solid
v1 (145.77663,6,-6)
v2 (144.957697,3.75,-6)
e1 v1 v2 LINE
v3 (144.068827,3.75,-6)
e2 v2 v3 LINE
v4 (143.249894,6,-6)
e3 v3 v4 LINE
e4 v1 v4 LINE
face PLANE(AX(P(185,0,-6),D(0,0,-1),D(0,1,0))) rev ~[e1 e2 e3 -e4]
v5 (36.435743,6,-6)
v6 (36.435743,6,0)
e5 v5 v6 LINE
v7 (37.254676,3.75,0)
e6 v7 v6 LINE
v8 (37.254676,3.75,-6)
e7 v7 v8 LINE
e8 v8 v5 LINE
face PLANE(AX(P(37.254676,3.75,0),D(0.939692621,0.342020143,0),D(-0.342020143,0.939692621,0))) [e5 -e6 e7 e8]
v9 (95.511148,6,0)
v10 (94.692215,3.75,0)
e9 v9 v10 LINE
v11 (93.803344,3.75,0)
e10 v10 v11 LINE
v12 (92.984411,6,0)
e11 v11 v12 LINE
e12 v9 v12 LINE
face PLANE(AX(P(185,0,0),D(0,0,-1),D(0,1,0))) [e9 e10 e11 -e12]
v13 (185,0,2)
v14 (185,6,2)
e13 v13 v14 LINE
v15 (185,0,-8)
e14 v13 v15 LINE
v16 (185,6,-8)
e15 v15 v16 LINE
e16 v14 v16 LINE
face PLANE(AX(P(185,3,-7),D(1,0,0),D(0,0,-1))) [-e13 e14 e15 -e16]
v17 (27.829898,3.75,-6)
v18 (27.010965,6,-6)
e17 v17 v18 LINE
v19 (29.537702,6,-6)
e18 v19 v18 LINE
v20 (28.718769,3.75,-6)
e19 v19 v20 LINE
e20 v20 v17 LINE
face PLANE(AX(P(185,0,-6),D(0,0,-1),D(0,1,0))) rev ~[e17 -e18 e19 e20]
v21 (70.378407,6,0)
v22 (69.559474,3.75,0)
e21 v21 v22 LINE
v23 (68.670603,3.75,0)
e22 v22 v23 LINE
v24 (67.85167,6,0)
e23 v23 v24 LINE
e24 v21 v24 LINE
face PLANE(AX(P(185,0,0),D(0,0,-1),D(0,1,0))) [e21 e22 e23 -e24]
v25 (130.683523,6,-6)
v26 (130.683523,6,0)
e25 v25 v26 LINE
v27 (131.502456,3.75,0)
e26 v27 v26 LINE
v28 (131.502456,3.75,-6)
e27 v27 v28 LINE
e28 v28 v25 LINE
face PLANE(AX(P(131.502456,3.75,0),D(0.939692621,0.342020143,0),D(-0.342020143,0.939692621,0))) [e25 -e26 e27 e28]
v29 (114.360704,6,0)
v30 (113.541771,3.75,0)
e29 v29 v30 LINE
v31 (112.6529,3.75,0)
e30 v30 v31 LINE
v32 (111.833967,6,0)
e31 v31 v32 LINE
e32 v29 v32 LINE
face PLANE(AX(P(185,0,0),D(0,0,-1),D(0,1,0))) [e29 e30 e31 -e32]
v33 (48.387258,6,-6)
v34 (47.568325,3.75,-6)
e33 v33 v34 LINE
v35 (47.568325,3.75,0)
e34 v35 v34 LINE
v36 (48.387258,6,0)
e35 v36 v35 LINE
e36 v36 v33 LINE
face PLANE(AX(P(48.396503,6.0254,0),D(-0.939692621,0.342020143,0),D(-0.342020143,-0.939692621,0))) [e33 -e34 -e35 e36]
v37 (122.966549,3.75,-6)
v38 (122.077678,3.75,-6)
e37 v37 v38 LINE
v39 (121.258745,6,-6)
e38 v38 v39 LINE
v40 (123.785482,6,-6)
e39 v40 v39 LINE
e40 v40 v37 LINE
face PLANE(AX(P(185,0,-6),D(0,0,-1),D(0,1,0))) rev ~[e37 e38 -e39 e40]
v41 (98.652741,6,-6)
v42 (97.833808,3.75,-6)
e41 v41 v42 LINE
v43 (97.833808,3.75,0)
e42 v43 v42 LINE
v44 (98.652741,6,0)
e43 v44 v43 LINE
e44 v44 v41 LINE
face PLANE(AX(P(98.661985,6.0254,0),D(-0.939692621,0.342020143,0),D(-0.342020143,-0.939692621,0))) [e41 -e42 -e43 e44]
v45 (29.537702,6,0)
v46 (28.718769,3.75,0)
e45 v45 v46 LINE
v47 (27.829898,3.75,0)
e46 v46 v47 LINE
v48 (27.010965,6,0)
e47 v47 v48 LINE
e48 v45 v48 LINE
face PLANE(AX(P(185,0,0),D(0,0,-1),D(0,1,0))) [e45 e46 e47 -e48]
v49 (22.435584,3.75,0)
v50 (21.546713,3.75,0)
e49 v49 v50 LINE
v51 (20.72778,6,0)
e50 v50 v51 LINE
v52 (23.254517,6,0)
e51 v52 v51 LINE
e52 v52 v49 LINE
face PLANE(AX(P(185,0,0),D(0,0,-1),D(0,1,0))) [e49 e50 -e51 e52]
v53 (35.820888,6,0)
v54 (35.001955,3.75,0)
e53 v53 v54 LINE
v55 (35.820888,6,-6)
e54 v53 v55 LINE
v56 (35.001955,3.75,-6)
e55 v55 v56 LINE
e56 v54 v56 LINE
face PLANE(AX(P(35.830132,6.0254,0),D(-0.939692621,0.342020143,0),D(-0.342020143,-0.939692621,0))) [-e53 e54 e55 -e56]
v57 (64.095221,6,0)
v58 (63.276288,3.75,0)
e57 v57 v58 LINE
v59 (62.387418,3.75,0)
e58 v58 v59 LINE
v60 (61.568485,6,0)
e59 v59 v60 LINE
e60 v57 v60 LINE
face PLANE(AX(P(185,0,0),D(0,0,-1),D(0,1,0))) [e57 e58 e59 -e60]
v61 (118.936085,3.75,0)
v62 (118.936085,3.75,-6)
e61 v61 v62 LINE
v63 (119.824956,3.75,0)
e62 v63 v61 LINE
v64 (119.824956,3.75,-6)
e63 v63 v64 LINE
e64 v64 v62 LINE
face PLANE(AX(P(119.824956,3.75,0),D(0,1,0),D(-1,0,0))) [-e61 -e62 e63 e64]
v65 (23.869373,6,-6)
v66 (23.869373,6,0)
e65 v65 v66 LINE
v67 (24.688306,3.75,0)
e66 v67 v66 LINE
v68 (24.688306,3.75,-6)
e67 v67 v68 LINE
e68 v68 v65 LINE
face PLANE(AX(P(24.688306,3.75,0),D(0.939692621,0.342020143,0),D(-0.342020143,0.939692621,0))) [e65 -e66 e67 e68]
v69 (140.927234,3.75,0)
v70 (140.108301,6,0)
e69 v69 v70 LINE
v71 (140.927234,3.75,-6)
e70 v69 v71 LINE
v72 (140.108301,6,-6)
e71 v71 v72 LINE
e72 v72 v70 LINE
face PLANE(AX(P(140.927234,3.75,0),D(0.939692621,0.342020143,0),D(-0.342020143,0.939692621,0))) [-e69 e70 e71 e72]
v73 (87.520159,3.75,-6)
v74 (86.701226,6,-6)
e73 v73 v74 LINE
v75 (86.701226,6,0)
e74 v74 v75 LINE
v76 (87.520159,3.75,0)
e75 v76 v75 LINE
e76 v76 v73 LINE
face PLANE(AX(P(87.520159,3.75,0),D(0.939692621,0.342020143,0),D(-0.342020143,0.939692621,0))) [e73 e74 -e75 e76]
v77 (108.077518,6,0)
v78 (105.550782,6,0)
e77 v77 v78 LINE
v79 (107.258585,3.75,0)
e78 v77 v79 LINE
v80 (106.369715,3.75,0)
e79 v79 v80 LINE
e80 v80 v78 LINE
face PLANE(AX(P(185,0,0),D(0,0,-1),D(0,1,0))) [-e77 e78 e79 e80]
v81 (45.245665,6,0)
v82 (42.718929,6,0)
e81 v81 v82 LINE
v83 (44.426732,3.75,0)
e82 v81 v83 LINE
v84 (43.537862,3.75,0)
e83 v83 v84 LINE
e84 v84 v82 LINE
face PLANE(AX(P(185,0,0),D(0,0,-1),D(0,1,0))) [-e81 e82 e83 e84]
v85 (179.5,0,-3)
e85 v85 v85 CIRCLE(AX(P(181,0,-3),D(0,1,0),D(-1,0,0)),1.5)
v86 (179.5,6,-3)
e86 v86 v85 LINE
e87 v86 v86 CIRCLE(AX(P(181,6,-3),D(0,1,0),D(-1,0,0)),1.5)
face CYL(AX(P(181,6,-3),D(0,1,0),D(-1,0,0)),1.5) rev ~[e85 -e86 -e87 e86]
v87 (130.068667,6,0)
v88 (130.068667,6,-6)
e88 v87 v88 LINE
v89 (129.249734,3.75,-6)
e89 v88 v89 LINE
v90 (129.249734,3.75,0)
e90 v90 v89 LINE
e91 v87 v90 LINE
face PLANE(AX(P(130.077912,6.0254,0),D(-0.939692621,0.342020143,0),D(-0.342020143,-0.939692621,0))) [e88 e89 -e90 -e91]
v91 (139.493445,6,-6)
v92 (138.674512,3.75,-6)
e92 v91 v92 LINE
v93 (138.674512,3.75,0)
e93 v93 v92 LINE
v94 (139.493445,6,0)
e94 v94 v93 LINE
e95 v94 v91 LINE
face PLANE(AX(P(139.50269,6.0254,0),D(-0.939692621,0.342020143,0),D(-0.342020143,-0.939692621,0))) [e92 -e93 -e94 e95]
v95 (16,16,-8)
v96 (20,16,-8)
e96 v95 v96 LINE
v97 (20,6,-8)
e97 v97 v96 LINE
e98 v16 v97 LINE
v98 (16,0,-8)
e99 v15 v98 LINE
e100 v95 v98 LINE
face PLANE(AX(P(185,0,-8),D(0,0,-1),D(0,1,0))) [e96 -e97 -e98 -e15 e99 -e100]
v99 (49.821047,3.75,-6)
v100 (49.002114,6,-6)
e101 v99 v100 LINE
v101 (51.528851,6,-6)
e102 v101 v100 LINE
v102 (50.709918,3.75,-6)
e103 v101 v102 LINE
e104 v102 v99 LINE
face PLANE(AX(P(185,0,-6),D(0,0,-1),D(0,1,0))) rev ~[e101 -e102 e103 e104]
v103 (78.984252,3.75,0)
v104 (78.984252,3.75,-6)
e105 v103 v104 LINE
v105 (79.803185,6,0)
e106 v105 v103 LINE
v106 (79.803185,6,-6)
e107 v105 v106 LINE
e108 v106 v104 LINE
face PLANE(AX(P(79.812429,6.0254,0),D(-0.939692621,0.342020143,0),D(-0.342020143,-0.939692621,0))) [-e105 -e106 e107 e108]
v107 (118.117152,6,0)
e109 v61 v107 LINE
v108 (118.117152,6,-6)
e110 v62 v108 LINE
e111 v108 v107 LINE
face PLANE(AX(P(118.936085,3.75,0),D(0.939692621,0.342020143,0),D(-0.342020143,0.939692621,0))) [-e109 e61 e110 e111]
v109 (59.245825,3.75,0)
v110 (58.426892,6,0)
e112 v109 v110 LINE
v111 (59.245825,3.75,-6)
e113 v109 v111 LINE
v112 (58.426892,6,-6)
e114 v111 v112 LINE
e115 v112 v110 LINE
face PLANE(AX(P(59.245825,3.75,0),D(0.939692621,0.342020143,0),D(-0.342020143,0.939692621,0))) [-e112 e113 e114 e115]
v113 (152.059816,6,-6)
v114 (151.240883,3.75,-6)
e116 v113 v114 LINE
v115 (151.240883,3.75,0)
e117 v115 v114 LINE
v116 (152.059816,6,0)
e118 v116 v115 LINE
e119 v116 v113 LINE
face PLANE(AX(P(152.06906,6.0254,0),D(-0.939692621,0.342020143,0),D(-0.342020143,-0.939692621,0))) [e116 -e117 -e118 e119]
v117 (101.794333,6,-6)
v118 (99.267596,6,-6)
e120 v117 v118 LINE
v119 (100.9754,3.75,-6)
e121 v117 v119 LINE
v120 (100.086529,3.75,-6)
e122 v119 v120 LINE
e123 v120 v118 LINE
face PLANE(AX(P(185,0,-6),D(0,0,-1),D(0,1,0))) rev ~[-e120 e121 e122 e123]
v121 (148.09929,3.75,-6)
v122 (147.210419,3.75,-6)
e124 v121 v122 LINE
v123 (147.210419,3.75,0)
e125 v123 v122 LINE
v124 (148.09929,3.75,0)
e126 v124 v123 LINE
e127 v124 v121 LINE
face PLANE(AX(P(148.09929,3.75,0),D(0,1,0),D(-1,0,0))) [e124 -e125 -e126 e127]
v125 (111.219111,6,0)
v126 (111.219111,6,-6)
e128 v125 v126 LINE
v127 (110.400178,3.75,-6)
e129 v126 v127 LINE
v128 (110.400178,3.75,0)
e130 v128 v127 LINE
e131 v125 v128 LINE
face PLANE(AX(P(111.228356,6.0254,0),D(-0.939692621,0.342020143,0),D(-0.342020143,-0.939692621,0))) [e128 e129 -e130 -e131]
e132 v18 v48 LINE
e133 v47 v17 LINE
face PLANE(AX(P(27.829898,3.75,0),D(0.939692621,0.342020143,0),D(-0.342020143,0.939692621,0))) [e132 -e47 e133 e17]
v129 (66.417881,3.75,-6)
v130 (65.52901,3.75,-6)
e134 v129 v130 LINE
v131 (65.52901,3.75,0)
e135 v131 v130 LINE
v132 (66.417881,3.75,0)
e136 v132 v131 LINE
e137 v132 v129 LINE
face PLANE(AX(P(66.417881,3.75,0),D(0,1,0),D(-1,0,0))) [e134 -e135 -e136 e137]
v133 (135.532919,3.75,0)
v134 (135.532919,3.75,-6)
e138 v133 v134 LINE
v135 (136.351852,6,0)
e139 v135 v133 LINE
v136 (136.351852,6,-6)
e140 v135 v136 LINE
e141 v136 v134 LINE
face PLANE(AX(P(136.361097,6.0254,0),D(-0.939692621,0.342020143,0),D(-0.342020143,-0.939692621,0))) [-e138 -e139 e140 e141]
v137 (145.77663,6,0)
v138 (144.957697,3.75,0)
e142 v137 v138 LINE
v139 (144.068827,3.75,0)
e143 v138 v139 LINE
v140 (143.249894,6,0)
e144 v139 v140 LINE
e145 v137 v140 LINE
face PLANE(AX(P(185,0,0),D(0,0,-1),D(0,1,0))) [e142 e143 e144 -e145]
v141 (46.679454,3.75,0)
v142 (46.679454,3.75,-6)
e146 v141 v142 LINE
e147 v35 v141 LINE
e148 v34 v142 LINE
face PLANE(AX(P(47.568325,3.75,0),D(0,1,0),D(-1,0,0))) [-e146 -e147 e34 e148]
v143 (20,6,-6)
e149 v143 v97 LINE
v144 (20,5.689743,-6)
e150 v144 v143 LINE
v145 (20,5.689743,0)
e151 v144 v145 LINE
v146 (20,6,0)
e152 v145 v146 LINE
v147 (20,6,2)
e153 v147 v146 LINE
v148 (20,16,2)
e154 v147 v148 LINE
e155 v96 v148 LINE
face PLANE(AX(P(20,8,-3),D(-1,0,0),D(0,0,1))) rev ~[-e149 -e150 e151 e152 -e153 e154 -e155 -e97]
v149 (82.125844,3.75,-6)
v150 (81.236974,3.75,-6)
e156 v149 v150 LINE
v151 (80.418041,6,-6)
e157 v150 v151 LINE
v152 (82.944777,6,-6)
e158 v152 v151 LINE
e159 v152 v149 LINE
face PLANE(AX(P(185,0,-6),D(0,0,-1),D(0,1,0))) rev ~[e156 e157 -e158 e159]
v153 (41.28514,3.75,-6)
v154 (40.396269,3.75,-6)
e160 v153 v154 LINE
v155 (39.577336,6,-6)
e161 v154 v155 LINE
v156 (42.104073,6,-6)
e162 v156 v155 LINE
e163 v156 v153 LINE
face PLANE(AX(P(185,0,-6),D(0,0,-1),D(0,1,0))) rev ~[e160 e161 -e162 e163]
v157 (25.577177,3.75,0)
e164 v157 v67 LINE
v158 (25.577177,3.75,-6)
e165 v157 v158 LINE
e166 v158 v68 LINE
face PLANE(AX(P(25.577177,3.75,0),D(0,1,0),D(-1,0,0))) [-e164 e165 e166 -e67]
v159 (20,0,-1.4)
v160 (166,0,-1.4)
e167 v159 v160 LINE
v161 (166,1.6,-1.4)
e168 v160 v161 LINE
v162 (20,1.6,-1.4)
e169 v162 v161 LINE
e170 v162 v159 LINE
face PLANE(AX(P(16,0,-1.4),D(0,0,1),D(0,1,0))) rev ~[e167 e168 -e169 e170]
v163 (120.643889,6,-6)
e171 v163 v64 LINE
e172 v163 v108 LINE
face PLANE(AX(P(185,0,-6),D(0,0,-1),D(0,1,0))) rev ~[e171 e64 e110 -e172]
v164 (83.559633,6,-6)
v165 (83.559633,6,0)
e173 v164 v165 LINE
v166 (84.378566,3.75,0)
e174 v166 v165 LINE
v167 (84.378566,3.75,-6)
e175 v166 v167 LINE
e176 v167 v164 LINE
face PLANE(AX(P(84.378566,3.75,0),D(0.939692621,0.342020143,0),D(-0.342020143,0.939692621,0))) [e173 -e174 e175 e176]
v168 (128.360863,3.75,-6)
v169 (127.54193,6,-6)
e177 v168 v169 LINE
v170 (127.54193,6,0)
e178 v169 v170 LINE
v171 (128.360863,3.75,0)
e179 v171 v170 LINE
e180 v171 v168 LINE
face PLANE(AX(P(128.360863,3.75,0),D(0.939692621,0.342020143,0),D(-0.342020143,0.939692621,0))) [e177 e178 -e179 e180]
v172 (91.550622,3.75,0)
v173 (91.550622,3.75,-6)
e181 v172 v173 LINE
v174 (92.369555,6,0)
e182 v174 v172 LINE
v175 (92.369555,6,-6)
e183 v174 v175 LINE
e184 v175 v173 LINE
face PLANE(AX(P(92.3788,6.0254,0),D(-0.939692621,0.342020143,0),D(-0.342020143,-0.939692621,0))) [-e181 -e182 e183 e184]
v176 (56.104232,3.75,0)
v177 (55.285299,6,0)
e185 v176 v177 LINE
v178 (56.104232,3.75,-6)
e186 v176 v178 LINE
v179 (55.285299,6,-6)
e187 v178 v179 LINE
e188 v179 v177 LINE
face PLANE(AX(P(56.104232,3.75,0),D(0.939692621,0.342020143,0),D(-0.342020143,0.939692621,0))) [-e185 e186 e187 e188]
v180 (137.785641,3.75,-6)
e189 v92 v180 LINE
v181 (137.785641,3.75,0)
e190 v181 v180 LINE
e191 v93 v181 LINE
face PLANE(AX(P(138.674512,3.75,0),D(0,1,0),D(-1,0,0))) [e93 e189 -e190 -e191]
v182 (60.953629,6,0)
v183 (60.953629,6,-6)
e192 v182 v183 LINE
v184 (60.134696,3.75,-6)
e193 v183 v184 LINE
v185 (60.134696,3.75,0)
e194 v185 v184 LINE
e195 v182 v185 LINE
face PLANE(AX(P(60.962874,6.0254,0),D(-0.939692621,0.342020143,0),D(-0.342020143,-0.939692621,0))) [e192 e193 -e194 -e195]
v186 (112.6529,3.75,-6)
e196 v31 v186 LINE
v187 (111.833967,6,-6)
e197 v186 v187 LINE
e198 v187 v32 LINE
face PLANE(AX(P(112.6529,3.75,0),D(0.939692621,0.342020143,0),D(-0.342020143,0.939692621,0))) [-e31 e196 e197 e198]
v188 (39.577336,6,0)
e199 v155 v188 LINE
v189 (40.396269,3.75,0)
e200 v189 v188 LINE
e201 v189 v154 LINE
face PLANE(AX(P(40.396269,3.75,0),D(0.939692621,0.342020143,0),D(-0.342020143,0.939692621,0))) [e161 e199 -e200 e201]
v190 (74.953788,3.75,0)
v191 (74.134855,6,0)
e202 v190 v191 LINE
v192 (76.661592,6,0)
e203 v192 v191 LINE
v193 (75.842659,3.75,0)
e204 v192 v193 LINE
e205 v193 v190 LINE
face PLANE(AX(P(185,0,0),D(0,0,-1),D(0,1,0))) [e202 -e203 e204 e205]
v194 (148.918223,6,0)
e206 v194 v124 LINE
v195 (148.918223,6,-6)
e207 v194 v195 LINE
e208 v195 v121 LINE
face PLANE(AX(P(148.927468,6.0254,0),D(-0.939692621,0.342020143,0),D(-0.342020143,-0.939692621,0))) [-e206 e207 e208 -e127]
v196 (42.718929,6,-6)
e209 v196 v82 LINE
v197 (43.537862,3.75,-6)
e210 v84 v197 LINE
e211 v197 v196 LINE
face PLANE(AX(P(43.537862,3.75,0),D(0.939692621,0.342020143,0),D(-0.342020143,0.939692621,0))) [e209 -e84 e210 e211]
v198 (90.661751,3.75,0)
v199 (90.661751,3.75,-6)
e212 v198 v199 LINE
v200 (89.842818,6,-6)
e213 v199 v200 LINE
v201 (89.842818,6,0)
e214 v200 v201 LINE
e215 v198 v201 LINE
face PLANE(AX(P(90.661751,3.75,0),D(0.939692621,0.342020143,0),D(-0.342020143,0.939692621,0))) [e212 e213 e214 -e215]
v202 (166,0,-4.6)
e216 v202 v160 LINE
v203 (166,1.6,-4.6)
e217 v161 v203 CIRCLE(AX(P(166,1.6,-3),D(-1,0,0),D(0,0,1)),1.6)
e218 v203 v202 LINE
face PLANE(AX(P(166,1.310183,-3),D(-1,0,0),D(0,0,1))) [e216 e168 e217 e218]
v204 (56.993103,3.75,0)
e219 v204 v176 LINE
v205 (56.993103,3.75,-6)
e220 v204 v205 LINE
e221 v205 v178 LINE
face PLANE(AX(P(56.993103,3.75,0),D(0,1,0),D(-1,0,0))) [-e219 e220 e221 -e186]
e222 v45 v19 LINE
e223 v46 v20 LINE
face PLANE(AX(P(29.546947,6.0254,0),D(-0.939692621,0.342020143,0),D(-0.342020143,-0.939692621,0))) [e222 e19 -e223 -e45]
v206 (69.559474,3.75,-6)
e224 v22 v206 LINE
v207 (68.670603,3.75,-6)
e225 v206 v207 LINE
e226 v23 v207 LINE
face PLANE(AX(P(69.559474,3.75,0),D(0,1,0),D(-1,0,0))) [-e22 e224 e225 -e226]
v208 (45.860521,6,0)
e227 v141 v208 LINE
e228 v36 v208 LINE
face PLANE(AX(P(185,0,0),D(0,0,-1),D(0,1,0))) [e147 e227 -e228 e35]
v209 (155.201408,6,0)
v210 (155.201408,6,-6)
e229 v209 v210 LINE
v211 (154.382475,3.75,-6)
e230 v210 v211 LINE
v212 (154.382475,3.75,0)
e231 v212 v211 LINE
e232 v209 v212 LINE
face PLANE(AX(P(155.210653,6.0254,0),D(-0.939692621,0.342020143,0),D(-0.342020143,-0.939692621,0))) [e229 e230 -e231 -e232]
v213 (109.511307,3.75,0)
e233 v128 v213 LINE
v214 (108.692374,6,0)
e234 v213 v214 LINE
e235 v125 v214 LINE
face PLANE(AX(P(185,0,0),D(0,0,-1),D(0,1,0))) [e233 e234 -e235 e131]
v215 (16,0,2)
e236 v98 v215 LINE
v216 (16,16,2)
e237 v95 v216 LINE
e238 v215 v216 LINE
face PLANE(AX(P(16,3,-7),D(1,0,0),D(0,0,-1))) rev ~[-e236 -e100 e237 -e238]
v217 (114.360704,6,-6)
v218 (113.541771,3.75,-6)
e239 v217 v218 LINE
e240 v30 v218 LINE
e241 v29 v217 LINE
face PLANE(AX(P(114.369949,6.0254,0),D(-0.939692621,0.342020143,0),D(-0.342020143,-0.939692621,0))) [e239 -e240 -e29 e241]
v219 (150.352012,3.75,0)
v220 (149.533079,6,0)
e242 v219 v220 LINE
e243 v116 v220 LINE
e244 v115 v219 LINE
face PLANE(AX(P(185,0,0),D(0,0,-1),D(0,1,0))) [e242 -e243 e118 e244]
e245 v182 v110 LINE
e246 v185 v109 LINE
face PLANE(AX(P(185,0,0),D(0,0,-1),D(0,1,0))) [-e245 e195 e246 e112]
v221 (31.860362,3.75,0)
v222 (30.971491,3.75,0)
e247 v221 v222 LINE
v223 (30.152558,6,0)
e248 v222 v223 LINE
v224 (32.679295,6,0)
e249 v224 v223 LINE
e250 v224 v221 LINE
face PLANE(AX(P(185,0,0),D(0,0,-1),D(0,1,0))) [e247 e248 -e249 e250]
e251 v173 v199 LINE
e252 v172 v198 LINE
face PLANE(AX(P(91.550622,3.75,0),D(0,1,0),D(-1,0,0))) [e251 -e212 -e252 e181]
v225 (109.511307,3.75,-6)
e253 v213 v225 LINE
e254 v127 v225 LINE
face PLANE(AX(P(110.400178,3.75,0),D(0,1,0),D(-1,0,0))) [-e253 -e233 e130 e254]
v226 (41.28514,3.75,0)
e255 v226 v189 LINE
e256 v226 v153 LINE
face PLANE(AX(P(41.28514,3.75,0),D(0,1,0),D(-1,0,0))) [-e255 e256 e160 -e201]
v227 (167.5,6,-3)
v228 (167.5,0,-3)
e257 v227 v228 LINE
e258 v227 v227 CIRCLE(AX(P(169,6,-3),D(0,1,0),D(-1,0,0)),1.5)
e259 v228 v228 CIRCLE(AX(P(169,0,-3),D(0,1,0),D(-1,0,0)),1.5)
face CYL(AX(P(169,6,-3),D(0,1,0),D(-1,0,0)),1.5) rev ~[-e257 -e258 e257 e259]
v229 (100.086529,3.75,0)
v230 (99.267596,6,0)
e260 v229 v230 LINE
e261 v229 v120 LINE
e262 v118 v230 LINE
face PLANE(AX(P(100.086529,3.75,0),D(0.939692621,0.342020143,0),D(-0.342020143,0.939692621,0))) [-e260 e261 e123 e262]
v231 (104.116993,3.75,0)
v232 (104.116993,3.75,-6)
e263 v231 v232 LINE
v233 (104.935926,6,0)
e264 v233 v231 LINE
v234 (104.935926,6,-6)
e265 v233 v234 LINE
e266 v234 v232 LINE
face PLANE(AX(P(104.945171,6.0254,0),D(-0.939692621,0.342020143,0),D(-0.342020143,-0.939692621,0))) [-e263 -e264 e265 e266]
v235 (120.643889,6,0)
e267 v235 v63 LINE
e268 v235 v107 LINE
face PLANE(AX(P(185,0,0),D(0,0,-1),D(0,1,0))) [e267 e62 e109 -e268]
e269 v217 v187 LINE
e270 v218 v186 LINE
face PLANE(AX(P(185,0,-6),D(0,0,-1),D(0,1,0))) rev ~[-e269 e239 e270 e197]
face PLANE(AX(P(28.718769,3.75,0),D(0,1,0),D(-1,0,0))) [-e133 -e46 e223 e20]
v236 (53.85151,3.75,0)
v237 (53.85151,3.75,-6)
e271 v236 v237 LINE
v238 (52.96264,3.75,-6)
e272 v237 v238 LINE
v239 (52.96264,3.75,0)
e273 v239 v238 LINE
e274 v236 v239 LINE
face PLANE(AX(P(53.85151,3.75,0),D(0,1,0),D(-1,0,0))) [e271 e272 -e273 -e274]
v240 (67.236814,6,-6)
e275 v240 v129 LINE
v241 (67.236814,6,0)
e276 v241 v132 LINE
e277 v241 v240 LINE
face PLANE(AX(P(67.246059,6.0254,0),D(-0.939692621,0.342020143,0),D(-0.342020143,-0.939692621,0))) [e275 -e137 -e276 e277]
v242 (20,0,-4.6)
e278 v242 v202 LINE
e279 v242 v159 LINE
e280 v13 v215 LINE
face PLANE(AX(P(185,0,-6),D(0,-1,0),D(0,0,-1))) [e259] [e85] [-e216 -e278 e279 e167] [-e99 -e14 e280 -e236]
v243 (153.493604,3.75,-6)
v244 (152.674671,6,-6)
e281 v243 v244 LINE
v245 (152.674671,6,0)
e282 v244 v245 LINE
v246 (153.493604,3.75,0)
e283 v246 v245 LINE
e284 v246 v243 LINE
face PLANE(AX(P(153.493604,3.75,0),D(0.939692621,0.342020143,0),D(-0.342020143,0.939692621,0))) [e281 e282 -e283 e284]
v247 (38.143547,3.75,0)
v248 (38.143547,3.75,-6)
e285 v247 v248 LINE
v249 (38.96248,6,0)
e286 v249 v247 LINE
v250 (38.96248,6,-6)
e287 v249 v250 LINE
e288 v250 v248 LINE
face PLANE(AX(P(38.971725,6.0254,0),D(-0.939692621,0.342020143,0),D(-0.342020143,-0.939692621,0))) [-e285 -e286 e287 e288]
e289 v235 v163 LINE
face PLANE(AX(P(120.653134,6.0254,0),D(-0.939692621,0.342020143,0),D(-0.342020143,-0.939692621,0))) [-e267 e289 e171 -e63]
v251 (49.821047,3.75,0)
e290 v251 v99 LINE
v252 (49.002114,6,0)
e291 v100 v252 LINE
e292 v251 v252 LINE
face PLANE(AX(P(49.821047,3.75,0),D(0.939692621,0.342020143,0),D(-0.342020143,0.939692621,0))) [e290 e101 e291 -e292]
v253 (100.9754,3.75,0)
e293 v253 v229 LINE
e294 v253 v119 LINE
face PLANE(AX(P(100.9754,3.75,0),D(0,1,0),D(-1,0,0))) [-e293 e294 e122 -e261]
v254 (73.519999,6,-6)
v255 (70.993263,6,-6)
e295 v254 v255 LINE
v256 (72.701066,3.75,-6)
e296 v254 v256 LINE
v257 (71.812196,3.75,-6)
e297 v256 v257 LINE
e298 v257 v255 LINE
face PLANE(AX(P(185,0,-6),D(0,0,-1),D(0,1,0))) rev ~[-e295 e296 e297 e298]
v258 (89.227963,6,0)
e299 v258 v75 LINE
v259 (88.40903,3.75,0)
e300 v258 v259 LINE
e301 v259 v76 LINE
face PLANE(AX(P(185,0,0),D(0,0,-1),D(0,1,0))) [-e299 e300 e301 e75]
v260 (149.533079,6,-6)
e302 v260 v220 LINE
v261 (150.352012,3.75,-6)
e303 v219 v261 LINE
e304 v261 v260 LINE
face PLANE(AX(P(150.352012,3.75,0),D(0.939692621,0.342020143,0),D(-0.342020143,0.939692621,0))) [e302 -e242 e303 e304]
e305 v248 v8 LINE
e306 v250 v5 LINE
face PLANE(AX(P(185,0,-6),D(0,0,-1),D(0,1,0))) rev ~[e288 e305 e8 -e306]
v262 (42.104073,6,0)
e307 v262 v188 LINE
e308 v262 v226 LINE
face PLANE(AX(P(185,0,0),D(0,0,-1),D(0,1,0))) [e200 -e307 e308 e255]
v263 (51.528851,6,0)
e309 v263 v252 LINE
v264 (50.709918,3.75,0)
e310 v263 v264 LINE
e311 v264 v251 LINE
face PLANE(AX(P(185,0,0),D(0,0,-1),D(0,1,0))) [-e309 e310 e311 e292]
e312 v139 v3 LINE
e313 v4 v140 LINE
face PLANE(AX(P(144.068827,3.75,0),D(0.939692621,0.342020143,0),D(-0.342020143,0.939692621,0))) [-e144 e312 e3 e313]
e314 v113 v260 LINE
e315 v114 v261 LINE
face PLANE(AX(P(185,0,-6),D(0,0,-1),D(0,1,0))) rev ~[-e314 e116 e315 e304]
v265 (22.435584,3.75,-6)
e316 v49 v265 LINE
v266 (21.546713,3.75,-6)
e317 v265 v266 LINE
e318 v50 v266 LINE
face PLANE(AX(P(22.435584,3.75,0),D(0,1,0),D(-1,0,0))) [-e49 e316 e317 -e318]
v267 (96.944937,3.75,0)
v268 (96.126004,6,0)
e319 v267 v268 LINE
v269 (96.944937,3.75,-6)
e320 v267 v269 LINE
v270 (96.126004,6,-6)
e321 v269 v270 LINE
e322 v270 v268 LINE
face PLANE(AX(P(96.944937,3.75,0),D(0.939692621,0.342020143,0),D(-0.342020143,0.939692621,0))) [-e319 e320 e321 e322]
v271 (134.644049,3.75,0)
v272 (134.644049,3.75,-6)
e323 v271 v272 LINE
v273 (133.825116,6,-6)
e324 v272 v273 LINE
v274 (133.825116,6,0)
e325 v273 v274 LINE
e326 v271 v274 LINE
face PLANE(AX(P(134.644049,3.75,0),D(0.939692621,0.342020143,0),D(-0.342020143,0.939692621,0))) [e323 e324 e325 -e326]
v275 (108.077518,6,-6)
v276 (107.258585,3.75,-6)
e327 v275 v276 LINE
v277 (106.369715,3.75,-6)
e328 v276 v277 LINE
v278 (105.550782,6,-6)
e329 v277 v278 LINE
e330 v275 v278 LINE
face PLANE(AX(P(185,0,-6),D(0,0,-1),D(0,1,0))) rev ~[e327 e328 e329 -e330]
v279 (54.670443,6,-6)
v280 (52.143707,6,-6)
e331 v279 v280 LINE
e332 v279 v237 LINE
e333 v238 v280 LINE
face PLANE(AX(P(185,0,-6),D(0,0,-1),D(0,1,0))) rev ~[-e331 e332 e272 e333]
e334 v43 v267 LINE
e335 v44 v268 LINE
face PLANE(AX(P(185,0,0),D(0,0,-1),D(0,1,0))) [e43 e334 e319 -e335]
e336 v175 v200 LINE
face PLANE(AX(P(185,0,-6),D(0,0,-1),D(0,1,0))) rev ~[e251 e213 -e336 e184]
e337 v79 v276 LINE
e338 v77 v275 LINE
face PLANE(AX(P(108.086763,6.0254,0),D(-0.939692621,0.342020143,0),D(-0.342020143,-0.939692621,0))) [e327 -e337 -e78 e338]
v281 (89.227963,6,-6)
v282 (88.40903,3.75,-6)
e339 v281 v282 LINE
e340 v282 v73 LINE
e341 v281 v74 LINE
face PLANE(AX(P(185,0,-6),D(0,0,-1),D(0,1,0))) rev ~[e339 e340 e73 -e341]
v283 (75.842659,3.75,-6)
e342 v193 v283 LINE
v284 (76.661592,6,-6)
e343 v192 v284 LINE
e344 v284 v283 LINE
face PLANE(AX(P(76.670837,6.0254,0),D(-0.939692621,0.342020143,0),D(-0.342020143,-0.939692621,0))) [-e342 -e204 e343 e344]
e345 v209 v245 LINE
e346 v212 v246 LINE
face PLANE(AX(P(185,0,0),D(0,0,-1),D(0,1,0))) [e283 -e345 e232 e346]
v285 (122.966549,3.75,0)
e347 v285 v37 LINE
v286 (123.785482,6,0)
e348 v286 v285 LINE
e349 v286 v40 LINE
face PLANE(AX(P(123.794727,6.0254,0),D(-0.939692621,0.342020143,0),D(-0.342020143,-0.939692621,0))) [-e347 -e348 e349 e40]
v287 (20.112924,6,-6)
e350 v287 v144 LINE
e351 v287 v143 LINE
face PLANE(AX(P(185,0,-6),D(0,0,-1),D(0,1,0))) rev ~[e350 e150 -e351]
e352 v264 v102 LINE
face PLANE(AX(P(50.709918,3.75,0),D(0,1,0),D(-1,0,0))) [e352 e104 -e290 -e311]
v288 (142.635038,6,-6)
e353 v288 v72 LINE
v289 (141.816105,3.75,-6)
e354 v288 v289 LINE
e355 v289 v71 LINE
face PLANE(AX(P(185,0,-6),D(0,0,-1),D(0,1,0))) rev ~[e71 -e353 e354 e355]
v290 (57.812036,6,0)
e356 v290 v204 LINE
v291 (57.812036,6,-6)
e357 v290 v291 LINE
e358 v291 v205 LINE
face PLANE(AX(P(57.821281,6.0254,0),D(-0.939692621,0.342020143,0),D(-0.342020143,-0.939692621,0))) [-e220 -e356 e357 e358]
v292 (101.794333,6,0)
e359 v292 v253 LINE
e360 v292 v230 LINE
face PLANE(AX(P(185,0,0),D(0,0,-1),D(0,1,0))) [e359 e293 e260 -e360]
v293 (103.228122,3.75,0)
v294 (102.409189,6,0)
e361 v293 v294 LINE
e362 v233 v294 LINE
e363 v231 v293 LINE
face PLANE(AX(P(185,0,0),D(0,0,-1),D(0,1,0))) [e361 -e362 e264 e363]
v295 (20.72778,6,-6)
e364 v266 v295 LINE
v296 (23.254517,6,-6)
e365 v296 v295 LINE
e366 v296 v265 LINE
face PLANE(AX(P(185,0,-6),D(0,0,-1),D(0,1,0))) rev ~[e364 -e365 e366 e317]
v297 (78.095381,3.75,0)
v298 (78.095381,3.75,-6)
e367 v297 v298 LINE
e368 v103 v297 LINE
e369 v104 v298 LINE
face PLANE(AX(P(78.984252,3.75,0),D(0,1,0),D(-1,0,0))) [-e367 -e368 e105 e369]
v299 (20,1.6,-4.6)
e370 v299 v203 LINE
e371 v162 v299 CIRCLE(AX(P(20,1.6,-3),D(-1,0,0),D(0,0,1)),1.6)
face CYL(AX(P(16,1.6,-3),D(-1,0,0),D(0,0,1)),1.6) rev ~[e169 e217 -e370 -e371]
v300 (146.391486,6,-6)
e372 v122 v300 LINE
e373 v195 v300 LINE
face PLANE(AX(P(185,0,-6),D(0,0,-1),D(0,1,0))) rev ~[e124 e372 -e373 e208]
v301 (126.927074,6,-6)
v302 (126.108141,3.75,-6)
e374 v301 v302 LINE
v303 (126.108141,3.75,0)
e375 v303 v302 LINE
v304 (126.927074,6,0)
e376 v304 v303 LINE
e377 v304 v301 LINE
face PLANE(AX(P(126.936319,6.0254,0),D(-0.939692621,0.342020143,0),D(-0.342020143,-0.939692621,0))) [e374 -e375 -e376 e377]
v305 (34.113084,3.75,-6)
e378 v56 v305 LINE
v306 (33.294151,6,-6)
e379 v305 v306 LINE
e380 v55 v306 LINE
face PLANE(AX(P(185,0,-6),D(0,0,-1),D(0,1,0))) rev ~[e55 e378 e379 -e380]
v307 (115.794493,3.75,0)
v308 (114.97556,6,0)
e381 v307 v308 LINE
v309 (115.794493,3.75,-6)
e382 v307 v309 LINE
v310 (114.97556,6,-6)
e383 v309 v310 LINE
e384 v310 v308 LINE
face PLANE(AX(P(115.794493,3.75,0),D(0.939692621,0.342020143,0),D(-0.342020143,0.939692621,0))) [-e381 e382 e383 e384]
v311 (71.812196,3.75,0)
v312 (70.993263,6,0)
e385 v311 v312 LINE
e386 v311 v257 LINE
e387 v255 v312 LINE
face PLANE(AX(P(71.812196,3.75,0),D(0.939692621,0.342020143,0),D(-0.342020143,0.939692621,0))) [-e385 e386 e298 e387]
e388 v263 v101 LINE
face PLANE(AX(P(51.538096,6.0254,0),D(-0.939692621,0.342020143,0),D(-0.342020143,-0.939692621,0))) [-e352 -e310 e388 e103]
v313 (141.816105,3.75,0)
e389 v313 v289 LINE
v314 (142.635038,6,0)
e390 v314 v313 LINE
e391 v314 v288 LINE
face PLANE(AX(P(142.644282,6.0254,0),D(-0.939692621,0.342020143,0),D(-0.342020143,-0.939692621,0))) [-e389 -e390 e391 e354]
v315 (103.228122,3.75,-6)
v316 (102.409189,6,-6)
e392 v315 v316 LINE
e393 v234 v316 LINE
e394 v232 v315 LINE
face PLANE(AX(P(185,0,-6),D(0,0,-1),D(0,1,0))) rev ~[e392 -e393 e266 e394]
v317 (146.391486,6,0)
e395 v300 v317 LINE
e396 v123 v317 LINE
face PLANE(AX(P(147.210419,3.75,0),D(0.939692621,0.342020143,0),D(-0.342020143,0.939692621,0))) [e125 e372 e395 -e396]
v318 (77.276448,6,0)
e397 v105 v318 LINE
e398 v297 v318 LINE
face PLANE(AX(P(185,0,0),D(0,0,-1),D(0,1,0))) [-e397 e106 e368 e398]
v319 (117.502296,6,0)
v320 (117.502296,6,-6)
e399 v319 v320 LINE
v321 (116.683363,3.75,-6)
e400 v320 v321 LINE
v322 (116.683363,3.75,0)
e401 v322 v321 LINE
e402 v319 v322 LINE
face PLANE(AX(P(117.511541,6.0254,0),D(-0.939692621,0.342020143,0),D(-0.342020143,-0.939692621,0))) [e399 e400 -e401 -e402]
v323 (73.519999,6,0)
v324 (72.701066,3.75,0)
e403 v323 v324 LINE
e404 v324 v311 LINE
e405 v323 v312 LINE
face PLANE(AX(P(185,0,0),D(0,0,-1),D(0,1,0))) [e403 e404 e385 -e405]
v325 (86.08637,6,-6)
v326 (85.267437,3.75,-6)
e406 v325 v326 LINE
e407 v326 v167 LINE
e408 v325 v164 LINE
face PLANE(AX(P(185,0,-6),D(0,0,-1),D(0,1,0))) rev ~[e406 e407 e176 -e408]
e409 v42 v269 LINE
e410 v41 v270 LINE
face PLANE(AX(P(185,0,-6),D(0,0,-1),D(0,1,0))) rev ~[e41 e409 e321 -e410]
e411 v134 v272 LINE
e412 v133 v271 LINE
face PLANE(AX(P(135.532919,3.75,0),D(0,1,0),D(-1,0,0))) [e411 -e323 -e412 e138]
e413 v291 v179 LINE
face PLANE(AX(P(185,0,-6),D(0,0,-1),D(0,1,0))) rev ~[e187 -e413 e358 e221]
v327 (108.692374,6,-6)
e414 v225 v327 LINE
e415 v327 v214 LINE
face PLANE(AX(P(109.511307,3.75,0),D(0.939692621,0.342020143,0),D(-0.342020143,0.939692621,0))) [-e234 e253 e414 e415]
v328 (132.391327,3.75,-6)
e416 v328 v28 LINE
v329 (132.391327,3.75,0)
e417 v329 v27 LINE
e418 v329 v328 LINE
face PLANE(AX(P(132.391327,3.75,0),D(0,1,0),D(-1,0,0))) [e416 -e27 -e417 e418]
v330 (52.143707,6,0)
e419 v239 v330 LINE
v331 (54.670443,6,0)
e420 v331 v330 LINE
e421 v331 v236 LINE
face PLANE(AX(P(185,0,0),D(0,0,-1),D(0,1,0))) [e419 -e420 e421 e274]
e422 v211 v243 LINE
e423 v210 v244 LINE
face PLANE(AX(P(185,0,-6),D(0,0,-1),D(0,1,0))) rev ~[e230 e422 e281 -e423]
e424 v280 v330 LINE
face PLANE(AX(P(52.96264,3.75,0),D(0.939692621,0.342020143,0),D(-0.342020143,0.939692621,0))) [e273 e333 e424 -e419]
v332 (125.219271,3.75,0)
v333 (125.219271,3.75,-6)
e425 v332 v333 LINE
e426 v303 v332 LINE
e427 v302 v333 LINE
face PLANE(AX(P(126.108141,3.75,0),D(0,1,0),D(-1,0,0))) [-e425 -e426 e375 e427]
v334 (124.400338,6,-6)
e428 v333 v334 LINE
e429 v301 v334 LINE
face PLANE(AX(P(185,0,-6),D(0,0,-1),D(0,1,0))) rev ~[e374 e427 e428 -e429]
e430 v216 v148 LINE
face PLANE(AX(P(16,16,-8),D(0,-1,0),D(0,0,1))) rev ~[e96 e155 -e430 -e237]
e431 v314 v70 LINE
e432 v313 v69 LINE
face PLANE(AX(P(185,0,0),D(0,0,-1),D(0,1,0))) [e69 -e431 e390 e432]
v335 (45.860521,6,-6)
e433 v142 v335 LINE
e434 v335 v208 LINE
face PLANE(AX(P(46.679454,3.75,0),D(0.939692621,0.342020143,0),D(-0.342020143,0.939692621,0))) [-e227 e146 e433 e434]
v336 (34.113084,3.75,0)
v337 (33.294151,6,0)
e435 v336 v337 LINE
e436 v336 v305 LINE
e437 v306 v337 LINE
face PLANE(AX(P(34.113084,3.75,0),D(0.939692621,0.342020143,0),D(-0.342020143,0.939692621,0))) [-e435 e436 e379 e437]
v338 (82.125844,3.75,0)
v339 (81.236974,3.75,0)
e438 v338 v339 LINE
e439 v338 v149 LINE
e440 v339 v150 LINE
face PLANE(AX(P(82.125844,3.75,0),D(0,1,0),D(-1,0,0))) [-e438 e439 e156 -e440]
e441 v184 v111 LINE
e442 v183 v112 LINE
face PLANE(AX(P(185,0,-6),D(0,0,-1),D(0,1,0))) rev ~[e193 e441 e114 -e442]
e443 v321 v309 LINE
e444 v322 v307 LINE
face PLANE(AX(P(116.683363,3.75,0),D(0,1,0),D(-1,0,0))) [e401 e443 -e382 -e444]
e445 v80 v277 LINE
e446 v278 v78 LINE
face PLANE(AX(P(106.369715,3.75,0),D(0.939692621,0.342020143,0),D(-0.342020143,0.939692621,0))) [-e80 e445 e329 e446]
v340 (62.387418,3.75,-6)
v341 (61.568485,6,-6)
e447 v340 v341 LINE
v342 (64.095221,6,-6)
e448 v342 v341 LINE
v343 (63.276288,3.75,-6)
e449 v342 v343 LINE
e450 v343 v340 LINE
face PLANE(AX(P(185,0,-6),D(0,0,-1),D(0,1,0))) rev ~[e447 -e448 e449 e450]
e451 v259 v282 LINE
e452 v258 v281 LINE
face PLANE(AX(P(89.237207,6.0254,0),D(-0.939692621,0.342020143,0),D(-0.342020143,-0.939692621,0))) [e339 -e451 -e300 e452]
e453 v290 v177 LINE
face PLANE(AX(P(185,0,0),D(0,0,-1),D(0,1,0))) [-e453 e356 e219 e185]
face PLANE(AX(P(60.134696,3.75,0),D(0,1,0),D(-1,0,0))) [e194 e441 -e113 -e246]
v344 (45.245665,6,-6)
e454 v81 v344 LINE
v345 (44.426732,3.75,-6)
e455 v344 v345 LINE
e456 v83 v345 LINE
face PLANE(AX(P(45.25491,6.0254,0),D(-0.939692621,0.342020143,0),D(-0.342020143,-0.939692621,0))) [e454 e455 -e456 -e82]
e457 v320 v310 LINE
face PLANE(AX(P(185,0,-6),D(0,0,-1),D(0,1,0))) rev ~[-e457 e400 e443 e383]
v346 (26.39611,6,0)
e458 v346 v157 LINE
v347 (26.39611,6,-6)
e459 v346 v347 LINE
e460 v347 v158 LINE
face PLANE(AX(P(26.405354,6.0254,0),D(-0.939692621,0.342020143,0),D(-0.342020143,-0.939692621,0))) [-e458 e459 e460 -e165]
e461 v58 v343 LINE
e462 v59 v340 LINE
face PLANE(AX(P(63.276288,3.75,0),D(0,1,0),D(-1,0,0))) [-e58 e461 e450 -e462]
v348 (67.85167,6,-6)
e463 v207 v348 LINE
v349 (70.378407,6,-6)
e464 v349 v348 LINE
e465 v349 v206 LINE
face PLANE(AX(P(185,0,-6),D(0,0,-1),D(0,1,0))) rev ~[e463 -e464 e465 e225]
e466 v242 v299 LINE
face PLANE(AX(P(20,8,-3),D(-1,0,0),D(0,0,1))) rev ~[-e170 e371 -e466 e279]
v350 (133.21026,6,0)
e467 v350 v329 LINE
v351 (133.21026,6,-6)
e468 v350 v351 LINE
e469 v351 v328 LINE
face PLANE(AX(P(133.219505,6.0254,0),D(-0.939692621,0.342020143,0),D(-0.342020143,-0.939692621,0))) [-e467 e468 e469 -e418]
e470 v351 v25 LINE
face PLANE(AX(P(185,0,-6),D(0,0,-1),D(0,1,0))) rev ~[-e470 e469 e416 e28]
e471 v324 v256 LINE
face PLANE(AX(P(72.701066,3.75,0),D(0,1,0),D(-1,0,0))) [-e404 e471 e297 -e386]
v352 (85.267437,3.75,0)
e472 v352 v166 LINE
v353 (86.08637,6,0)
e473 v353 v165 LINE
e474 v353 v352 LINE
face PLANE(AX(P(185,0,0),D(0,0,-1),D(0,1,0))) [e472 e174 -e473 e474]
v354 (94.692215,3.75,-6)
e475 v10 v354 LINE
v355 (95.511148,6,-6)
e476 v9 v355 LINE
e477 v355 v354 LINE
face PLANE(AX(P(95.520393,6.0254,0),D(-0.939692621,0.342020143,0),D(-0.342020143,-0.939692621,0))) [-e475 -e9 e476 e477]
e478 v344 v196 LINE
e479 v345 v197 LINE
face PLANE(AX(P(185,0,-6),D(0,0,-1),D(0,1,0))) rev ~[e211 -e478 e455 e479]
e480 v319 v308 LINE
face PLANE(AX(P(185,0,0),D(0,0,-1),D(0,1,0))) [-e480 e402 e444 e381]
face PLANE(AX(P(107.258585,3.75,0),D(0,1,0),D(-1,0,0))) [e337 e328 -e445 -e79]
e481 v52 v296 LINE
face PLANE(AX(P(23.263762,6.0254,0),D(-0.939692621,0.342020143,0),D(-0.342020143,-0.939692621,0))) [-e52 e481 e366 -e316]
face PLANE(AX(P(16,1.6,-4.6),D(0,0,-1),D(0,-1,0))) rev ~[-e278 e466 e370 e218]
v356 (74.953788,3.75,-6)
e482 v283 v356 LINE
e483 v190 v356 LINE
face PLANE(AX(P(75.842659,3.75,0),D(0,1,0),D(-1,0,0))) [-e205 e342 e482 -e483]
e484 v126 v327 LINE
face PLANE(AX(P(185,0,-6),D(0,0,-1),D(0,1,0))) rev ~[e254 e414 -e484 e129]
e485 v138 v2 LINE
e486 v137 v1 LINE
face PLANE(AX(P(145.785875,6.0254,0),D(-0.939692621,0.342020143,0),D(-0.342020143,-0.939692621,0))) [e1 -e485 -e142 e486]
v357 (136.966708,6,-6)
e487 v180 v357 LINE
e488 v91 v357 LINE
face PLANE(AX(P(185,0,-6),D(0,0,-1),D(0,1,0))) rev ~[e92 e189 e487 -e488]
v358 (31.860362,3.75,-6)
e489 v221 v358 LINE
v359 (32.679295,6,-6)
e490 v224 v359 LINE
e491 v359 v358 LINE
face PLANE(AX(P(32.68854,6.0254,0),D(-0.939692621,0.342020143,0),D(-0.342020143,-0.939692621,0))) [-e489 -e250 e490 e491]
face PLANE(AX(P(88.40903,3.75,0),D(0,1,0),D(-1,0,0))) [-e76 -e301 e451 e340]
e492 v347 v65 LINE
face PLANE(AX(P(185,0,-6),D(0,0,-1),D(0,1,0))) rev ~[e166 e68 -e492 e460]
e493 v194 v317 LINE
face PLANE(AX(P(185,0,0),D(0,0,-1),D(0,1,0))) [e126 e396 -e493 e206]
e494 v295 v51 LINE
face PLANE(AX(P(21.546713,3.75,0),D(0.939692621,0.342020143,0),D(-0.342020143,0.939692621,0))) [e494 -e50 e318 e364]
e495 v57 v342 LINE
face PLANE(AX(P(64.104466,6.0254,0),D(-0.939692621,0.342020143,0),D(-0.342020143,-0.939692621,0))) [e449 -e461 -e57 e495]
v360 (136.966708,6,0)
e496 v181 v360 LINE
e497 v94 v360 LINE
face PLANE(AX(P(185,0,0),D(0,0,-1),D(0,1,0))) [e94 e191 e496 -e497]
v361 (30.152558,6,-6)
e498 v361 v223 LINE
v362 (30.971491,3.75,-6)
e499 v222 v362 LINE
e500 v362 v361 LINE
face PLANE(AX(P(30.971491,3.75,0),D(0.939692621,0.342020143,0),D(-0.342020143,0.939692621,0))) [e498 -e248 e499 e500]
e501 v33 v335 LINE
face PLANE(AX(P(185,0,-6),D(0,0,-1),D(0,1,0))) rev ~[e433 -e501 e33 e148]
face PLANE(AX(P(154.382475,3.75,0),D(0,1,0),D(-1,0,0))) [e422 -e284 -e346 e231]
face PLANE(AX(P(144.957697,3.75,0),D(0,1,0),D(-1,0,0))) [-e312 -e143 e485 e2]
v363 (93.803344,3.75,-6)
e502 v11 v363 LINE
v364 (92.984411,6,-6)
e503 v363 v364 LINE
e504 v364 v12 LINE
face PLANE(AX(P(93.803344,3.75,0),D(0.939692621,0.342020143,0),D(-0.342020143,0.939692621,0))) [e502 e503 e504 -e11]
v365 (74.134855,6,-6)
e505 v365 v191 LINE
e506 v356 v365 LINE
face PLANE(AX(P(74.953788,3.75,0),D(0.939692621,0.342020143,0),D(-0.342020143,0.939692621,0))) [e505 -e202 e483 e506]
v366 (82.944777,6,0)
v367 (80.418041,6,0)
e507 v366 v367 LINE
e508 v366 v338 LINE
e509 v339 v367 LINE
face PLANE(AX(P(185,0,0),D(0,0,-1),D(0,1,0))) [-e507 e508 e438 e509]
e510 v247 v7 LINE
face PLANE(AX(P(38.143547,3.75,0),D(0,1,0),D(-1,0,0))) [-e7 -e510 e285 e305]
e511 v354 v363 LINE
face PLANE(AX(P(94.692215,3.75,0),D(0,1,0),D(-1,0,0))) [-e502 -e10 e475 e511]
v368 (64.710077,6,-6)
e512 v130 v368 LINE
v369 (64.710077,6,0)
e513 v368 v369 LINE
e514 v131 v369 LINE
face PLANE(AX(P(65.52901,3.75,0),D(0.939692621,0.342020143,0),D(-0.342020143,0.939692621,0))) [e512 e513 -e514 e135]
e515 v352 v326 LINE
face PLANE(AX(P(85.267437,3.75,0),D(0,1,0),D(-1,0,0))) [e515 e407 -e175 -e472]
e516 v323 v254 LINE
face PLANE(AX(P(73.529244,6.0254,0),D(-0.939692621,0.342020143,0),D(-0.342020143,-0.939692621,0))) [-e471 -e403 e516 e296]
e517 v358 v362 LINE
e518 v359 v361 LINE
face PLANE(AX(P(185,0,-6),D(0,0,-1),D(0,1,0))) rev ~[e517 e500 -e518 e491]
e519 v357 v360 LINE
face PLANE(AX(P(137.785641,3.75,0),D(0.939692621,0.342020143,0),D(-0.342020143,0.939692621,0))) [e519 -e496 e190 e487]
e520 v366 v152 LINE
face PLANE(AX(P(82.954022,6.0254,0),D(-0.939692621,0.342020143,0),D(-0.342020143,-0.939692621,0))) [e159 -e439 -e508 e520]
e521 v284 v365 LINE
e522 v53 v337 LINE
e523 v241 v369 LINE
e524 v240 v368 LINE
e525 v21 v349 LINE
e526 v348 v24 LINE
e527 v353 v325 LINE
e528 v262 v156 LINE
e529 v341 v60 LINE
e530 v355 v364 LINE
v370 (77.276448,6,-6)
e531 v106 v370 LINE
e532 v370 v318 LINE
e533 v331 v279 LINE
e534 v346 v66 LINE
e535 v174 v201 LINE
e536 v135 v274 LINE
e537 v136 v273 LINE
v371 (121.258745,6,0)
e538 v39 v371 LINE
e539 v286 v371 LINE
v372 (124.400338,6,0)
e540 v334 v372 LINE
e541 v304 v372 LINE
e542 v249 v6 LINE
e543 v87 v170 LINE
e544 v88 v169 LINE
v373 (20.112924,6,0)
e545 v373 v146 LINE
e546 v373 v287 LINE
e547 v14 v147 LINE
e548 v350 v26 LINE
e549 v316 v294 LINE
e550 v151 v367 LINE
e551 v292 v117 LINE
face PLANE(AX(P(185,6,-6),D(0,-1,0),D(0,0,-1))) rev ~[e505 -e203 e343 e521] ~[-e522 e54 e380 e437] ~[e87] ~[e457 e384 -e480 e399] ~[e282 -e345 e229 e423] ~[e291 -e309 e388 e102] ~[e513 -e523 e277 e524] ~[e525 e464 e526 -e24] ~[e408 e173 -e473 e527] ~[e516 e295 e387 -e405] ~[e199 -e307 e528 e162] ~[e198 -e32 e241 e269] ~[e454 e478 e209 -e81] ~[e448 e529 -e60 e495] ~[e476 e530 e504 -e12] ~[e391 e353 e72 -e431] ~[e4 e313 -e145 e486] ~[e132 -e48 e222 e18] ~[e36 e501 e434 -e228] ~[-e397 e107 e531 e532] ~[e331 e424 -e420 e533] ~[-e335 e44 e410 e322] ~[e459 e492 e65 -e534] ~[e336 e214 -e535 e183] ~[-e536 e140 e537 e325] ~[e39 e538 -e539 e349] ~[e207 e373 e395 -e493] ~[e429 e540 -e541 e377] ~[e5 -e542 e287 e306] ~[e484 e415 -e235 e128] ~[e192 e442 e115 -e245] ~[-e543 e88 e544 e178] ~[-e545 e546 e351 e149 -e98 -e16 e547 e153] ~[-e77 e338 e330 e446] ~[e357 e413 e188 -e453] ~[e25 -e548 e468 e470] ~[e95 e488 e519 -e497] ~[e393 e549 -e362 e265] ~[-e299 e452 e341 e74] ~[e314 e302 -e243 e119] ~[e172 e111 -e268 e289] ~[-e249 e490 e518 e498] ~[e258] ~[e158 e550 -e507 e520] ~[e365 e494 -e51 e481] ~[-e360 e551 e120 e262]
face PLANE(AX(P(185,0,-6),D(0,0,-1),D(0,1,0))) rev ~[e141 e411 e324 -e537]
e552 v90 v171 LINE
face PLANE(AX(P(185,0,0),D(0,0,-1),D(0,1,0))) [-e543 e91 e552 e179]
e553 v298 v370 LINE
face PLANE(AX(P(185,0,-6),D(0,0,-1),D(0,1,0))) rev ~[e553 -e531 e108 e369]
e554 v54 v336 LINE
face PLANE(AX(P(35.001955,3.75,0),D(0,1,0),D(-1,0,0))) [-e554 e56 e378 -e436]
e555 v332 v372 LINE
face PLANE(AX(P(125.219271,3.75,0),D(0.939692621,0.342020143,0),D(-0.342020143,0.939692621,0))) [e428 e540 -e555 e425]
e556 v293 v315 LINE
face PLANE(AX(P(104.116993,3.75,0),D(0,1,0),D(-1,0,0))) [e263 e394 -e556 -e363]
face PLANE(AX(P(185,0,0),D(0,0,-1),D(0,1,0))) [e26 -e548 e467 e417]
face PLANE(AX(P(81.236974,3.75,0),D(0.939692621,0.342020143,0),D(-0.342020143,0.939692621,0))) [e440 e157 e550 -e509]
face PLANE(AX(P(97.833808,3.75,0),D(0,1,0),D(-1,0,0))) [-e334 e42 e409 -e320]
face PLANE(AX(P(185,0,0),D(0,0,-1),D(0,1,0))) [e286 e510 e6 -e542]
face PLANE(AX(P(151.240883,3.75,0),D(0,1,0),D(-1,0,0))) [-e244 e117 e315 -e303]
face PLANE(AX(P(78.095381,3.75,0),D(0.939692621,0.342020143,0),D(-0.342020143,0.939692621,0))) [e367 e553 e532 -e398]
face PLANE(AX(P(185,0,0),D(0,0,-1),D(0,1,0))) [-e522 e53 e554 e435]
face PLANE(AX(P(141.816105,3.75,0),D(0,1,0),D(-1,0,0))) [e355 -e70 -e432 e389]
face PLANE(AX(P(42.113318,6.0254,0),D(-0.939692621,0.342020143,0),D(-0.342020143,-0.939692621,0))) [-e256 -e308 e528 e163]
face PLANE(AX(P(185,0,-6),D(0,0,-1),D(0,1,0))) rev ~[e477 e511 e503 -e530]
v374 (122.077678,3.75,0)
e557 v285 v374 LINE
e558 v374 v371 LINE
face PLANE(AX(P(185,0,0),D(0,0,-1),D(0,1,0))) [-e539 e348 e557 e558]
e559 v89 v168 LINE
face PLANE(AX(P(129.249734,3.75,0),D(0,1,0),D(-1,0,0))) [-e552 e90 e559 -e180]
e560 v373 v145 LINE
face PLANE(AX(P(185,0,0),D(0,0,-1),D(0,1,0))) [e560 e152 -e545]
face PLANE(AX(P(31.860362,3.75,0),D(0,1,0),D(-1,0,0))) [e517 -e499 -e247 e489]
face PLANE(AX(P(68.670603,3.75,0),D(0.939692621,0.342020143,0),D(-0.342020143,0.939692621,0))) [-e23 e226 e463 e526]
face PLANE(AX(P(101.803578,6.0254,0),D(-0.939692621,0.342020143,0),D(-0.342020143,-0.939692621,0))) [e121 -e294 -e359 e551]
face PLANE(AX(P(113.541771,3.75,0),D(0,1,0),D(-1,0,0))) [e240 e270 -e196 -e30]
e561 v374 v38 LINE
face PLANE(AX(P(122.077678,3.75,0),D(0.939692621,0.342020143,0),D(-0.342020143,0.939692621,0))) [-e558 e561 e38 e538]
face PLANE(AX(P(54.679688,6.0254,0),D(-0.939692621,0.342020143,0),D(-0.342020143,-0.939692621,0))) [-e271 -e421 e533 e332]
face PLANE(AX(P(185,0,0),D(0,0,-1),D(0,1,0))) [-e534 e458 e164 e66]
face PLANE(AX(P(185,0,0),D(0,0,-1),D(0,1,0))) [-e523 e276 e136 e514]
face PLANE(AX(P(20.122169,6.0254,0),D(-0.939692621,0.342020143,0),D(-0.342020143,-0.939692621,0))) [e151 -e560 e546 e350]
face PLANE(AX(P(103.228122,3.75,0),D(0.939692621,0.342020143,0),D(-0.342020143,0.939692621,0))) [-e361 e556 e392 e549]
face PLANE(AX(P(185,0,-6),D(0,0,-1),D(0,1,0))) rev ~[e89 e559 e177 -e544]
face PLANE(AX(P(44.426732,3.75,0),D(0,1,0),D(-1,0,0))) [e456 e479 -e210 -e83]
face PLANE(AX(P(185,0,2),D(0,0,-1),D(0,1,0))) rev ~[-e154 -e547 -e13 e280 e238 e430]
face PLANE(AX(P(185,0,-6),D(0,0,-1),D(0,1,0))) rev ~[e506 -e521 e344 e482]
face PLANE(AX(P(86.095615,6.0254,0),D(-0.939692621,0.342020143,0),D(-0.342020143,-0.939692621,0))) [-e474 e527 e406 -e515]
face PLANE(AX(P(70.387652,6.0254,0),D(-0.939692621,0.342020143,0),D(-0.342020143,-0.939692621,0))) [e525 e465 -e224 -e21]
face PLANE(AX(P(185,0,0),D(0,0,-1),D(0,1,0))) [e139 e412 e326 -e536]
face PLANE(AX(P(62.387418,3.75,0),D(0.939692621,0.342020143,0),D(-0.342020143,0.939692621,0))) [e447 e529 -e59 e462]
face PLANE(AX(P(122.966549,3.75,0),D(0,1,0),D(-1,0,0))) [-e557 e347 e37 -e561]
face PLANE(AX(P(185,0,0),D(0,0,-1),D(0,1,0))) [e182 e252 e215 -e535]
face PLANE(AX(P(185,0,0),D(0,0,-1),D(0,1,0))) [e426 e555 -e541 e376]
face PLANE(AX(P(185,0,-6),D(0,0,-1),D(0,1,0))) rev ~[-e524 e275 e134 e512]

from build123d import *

# Parameters (mm, degrees)
BLANKSKE_W             = 185
BLANKSKE_H             = 6
BLANK_DEPTH            = 6
TOOTHCUTILL_DEPTH      = 186.194492359
TOOTHCUTSIM_DEPTH      = 186.194492359
PATTERN_LINEAR_1_COUNT = 50
PATTERN_LINEAR_1_PITCH = 3.14159265
SKETCH_3_W             = 6
SKETCH_3_H             = 6
CUT_EXTRUDE_1_DEPTH    = 16
SKETCH_2_W             = 2
SKETCH_2_H             = 6
EXTRUDE_2_DEPTH        = 169
CUT_EXTRUDE_2_DEPTH    = 150
SKETCH_5_W             = 10
SKETCH_5_H             = 16
EXTRUDE_3_DEPTH        = 4
SKETCH_6_R             = 1.5
CUT_EXTRUDE_3_DEPTH    = 186.442713526


with BuildPart() as part:
    # BlankSke → Blank (new body)
    with BuildSketch(Plane.XY):
        with Locations((92.5, 3)):
            Rectangle(BLANKSKE_W, BLANKSKE_H)
    extrude(amount=-BLANK_DEPTH)

    # TooCutSkeIll → ToothCutIll (cut, through all)
    with BuildSketch(Plane.XY):
        with BuildLine():
            Line((-1.253788993, 5.973680806), (-0.504546125, 3.915152944))
            ThreePointArc((-0.504546125, 3.915152944), (-0.412650963, 3.795392837), (-0.268683278, 3.75))
            Line((-0.268683278, 3.75), (0.268683278, 3.75))
            ThreePointArc((0.268683278, 3.75), (0.412650963, 3.795392837), (0.504546125, 3.915152944))
            Line((0.504546125, 3.915152944), (1.253788993, 5.973680806))
            ThreePointArc((1.253788993, 5.973680806), (1.268433641, 5.992766082), (1.291376698, 6))
            Line((1.291376698, 6), (1.291376698, 6.0254))
            Line((1.291376698, 6.0254), (-1.291376698, 6.0254))
            Line((-1.291376698, 6.0254), (-1.291376698, 6))
            ThreePointArc((-1.291376698, 6), (-1.268433641, 5.992766082), (-1.253788993, 5.973680806))
        make_face()
    extrude(amount=-TOOTHCUTILL_DEPTH, mode=Mode.SUBTRACT)

    # TooCutSkeSim → ToothCutSim (cut, through all)
    with BuildSketch(Plane.XY):
        Polygon((0.44443537, 3.75), (-0.44443537, 3.75), (-1.272613241, 6.0254), (1.272613241, 6.0254), align=None)
    toothcutsim = extrude(amount=-TOOTHCUTSIM_DEPTH, mode=Mode.SUBTRACT)

    # Линейный массив1: ToothCutSim ×50
    with Locations(*[(i * PATTERN_LINEAR_1_PITCH, 0, 0) for i in range(1, PATTERN_LINEAR_1_COUNT)]):
        add(toothcutsim, mode=Mode.SUBTRACT)

    # Эскиз3 → Вырез-Вытянуть1 (cut)
    with BuildSketch(Plane.ZY):
        with Locations((-3, 3)):
            Rectangle(SKETCH_3_W, SKETCH_3_H)
    extrude(amount=-CUT_EXTRUDE_1_DEPTH, mode=Mode.SUBTRACT)

    # Эскиз2 → Бобышка-Вытянуть2 (add)
    with BuildSketch(Plane(origin=(185, 0, 0), x_dir=(0, 0, -1), z_dir=(1, 0, 0))):
        with Locations((7, 3)):
            Rectangle(SKETCH_2_W, SKETCH_2_H)
        with Locations((-1, 3)):
            Rectangle(SKETCH_2_W, SKETCH_2_H)
    extrude(amount=-EXTRUDE_2_DEPTH)

    # Эскиз4 → Вырез-Вытянуть2 (cut)
    with BuildSketch(Plane.ZY.offset(-16)):
        with BuildLine():
            Line((-4.6, 1.6), (-4.6, 0))
            Line((-4.6, 0), (-1.4, 0))
            Line((-1.4, 0), (-1.4, 1.6))
            ThreePointArc((-1.4, 1.6), (-3, 3.2), (-4.6, 1.6))
        make_face()
    extrude(amount=-CUT_EXTRUDE_2_DEPTH, mode=Mode.SUBTRACT)

    # Эскиз5 → Бобышка-Вытянуть3 (add)
    with BuildSketch(Plane.ZY.offset(-16)):
        with Locations((-3, 8)):
            Rectangle(SKETCH_5_W, SKETCH_5_H)
    extrude(amount=-EXTRUDE_3_DEPTH)

    # Эскиз6 → Вырез-Вытянуть3 (cut, through all)
    with BuildSketch(Plane(origin=(0, 6, 0), x_dir=(1, 0, 0), z_dir=(0, 1, 0))):
        with Locations(Location((181, 3, 0), (0, 0, 180))):
            Circle(SKETCH_6_R)
        with Locations(Location((169, 3, 0), (0, 0, 180))):
            Circle(SKETCH_6_R)
    extrude(amount=-CUT_EXTRUDE_3_DEPTH, mode=Mode.SUBTRACT)


solid = part.part
